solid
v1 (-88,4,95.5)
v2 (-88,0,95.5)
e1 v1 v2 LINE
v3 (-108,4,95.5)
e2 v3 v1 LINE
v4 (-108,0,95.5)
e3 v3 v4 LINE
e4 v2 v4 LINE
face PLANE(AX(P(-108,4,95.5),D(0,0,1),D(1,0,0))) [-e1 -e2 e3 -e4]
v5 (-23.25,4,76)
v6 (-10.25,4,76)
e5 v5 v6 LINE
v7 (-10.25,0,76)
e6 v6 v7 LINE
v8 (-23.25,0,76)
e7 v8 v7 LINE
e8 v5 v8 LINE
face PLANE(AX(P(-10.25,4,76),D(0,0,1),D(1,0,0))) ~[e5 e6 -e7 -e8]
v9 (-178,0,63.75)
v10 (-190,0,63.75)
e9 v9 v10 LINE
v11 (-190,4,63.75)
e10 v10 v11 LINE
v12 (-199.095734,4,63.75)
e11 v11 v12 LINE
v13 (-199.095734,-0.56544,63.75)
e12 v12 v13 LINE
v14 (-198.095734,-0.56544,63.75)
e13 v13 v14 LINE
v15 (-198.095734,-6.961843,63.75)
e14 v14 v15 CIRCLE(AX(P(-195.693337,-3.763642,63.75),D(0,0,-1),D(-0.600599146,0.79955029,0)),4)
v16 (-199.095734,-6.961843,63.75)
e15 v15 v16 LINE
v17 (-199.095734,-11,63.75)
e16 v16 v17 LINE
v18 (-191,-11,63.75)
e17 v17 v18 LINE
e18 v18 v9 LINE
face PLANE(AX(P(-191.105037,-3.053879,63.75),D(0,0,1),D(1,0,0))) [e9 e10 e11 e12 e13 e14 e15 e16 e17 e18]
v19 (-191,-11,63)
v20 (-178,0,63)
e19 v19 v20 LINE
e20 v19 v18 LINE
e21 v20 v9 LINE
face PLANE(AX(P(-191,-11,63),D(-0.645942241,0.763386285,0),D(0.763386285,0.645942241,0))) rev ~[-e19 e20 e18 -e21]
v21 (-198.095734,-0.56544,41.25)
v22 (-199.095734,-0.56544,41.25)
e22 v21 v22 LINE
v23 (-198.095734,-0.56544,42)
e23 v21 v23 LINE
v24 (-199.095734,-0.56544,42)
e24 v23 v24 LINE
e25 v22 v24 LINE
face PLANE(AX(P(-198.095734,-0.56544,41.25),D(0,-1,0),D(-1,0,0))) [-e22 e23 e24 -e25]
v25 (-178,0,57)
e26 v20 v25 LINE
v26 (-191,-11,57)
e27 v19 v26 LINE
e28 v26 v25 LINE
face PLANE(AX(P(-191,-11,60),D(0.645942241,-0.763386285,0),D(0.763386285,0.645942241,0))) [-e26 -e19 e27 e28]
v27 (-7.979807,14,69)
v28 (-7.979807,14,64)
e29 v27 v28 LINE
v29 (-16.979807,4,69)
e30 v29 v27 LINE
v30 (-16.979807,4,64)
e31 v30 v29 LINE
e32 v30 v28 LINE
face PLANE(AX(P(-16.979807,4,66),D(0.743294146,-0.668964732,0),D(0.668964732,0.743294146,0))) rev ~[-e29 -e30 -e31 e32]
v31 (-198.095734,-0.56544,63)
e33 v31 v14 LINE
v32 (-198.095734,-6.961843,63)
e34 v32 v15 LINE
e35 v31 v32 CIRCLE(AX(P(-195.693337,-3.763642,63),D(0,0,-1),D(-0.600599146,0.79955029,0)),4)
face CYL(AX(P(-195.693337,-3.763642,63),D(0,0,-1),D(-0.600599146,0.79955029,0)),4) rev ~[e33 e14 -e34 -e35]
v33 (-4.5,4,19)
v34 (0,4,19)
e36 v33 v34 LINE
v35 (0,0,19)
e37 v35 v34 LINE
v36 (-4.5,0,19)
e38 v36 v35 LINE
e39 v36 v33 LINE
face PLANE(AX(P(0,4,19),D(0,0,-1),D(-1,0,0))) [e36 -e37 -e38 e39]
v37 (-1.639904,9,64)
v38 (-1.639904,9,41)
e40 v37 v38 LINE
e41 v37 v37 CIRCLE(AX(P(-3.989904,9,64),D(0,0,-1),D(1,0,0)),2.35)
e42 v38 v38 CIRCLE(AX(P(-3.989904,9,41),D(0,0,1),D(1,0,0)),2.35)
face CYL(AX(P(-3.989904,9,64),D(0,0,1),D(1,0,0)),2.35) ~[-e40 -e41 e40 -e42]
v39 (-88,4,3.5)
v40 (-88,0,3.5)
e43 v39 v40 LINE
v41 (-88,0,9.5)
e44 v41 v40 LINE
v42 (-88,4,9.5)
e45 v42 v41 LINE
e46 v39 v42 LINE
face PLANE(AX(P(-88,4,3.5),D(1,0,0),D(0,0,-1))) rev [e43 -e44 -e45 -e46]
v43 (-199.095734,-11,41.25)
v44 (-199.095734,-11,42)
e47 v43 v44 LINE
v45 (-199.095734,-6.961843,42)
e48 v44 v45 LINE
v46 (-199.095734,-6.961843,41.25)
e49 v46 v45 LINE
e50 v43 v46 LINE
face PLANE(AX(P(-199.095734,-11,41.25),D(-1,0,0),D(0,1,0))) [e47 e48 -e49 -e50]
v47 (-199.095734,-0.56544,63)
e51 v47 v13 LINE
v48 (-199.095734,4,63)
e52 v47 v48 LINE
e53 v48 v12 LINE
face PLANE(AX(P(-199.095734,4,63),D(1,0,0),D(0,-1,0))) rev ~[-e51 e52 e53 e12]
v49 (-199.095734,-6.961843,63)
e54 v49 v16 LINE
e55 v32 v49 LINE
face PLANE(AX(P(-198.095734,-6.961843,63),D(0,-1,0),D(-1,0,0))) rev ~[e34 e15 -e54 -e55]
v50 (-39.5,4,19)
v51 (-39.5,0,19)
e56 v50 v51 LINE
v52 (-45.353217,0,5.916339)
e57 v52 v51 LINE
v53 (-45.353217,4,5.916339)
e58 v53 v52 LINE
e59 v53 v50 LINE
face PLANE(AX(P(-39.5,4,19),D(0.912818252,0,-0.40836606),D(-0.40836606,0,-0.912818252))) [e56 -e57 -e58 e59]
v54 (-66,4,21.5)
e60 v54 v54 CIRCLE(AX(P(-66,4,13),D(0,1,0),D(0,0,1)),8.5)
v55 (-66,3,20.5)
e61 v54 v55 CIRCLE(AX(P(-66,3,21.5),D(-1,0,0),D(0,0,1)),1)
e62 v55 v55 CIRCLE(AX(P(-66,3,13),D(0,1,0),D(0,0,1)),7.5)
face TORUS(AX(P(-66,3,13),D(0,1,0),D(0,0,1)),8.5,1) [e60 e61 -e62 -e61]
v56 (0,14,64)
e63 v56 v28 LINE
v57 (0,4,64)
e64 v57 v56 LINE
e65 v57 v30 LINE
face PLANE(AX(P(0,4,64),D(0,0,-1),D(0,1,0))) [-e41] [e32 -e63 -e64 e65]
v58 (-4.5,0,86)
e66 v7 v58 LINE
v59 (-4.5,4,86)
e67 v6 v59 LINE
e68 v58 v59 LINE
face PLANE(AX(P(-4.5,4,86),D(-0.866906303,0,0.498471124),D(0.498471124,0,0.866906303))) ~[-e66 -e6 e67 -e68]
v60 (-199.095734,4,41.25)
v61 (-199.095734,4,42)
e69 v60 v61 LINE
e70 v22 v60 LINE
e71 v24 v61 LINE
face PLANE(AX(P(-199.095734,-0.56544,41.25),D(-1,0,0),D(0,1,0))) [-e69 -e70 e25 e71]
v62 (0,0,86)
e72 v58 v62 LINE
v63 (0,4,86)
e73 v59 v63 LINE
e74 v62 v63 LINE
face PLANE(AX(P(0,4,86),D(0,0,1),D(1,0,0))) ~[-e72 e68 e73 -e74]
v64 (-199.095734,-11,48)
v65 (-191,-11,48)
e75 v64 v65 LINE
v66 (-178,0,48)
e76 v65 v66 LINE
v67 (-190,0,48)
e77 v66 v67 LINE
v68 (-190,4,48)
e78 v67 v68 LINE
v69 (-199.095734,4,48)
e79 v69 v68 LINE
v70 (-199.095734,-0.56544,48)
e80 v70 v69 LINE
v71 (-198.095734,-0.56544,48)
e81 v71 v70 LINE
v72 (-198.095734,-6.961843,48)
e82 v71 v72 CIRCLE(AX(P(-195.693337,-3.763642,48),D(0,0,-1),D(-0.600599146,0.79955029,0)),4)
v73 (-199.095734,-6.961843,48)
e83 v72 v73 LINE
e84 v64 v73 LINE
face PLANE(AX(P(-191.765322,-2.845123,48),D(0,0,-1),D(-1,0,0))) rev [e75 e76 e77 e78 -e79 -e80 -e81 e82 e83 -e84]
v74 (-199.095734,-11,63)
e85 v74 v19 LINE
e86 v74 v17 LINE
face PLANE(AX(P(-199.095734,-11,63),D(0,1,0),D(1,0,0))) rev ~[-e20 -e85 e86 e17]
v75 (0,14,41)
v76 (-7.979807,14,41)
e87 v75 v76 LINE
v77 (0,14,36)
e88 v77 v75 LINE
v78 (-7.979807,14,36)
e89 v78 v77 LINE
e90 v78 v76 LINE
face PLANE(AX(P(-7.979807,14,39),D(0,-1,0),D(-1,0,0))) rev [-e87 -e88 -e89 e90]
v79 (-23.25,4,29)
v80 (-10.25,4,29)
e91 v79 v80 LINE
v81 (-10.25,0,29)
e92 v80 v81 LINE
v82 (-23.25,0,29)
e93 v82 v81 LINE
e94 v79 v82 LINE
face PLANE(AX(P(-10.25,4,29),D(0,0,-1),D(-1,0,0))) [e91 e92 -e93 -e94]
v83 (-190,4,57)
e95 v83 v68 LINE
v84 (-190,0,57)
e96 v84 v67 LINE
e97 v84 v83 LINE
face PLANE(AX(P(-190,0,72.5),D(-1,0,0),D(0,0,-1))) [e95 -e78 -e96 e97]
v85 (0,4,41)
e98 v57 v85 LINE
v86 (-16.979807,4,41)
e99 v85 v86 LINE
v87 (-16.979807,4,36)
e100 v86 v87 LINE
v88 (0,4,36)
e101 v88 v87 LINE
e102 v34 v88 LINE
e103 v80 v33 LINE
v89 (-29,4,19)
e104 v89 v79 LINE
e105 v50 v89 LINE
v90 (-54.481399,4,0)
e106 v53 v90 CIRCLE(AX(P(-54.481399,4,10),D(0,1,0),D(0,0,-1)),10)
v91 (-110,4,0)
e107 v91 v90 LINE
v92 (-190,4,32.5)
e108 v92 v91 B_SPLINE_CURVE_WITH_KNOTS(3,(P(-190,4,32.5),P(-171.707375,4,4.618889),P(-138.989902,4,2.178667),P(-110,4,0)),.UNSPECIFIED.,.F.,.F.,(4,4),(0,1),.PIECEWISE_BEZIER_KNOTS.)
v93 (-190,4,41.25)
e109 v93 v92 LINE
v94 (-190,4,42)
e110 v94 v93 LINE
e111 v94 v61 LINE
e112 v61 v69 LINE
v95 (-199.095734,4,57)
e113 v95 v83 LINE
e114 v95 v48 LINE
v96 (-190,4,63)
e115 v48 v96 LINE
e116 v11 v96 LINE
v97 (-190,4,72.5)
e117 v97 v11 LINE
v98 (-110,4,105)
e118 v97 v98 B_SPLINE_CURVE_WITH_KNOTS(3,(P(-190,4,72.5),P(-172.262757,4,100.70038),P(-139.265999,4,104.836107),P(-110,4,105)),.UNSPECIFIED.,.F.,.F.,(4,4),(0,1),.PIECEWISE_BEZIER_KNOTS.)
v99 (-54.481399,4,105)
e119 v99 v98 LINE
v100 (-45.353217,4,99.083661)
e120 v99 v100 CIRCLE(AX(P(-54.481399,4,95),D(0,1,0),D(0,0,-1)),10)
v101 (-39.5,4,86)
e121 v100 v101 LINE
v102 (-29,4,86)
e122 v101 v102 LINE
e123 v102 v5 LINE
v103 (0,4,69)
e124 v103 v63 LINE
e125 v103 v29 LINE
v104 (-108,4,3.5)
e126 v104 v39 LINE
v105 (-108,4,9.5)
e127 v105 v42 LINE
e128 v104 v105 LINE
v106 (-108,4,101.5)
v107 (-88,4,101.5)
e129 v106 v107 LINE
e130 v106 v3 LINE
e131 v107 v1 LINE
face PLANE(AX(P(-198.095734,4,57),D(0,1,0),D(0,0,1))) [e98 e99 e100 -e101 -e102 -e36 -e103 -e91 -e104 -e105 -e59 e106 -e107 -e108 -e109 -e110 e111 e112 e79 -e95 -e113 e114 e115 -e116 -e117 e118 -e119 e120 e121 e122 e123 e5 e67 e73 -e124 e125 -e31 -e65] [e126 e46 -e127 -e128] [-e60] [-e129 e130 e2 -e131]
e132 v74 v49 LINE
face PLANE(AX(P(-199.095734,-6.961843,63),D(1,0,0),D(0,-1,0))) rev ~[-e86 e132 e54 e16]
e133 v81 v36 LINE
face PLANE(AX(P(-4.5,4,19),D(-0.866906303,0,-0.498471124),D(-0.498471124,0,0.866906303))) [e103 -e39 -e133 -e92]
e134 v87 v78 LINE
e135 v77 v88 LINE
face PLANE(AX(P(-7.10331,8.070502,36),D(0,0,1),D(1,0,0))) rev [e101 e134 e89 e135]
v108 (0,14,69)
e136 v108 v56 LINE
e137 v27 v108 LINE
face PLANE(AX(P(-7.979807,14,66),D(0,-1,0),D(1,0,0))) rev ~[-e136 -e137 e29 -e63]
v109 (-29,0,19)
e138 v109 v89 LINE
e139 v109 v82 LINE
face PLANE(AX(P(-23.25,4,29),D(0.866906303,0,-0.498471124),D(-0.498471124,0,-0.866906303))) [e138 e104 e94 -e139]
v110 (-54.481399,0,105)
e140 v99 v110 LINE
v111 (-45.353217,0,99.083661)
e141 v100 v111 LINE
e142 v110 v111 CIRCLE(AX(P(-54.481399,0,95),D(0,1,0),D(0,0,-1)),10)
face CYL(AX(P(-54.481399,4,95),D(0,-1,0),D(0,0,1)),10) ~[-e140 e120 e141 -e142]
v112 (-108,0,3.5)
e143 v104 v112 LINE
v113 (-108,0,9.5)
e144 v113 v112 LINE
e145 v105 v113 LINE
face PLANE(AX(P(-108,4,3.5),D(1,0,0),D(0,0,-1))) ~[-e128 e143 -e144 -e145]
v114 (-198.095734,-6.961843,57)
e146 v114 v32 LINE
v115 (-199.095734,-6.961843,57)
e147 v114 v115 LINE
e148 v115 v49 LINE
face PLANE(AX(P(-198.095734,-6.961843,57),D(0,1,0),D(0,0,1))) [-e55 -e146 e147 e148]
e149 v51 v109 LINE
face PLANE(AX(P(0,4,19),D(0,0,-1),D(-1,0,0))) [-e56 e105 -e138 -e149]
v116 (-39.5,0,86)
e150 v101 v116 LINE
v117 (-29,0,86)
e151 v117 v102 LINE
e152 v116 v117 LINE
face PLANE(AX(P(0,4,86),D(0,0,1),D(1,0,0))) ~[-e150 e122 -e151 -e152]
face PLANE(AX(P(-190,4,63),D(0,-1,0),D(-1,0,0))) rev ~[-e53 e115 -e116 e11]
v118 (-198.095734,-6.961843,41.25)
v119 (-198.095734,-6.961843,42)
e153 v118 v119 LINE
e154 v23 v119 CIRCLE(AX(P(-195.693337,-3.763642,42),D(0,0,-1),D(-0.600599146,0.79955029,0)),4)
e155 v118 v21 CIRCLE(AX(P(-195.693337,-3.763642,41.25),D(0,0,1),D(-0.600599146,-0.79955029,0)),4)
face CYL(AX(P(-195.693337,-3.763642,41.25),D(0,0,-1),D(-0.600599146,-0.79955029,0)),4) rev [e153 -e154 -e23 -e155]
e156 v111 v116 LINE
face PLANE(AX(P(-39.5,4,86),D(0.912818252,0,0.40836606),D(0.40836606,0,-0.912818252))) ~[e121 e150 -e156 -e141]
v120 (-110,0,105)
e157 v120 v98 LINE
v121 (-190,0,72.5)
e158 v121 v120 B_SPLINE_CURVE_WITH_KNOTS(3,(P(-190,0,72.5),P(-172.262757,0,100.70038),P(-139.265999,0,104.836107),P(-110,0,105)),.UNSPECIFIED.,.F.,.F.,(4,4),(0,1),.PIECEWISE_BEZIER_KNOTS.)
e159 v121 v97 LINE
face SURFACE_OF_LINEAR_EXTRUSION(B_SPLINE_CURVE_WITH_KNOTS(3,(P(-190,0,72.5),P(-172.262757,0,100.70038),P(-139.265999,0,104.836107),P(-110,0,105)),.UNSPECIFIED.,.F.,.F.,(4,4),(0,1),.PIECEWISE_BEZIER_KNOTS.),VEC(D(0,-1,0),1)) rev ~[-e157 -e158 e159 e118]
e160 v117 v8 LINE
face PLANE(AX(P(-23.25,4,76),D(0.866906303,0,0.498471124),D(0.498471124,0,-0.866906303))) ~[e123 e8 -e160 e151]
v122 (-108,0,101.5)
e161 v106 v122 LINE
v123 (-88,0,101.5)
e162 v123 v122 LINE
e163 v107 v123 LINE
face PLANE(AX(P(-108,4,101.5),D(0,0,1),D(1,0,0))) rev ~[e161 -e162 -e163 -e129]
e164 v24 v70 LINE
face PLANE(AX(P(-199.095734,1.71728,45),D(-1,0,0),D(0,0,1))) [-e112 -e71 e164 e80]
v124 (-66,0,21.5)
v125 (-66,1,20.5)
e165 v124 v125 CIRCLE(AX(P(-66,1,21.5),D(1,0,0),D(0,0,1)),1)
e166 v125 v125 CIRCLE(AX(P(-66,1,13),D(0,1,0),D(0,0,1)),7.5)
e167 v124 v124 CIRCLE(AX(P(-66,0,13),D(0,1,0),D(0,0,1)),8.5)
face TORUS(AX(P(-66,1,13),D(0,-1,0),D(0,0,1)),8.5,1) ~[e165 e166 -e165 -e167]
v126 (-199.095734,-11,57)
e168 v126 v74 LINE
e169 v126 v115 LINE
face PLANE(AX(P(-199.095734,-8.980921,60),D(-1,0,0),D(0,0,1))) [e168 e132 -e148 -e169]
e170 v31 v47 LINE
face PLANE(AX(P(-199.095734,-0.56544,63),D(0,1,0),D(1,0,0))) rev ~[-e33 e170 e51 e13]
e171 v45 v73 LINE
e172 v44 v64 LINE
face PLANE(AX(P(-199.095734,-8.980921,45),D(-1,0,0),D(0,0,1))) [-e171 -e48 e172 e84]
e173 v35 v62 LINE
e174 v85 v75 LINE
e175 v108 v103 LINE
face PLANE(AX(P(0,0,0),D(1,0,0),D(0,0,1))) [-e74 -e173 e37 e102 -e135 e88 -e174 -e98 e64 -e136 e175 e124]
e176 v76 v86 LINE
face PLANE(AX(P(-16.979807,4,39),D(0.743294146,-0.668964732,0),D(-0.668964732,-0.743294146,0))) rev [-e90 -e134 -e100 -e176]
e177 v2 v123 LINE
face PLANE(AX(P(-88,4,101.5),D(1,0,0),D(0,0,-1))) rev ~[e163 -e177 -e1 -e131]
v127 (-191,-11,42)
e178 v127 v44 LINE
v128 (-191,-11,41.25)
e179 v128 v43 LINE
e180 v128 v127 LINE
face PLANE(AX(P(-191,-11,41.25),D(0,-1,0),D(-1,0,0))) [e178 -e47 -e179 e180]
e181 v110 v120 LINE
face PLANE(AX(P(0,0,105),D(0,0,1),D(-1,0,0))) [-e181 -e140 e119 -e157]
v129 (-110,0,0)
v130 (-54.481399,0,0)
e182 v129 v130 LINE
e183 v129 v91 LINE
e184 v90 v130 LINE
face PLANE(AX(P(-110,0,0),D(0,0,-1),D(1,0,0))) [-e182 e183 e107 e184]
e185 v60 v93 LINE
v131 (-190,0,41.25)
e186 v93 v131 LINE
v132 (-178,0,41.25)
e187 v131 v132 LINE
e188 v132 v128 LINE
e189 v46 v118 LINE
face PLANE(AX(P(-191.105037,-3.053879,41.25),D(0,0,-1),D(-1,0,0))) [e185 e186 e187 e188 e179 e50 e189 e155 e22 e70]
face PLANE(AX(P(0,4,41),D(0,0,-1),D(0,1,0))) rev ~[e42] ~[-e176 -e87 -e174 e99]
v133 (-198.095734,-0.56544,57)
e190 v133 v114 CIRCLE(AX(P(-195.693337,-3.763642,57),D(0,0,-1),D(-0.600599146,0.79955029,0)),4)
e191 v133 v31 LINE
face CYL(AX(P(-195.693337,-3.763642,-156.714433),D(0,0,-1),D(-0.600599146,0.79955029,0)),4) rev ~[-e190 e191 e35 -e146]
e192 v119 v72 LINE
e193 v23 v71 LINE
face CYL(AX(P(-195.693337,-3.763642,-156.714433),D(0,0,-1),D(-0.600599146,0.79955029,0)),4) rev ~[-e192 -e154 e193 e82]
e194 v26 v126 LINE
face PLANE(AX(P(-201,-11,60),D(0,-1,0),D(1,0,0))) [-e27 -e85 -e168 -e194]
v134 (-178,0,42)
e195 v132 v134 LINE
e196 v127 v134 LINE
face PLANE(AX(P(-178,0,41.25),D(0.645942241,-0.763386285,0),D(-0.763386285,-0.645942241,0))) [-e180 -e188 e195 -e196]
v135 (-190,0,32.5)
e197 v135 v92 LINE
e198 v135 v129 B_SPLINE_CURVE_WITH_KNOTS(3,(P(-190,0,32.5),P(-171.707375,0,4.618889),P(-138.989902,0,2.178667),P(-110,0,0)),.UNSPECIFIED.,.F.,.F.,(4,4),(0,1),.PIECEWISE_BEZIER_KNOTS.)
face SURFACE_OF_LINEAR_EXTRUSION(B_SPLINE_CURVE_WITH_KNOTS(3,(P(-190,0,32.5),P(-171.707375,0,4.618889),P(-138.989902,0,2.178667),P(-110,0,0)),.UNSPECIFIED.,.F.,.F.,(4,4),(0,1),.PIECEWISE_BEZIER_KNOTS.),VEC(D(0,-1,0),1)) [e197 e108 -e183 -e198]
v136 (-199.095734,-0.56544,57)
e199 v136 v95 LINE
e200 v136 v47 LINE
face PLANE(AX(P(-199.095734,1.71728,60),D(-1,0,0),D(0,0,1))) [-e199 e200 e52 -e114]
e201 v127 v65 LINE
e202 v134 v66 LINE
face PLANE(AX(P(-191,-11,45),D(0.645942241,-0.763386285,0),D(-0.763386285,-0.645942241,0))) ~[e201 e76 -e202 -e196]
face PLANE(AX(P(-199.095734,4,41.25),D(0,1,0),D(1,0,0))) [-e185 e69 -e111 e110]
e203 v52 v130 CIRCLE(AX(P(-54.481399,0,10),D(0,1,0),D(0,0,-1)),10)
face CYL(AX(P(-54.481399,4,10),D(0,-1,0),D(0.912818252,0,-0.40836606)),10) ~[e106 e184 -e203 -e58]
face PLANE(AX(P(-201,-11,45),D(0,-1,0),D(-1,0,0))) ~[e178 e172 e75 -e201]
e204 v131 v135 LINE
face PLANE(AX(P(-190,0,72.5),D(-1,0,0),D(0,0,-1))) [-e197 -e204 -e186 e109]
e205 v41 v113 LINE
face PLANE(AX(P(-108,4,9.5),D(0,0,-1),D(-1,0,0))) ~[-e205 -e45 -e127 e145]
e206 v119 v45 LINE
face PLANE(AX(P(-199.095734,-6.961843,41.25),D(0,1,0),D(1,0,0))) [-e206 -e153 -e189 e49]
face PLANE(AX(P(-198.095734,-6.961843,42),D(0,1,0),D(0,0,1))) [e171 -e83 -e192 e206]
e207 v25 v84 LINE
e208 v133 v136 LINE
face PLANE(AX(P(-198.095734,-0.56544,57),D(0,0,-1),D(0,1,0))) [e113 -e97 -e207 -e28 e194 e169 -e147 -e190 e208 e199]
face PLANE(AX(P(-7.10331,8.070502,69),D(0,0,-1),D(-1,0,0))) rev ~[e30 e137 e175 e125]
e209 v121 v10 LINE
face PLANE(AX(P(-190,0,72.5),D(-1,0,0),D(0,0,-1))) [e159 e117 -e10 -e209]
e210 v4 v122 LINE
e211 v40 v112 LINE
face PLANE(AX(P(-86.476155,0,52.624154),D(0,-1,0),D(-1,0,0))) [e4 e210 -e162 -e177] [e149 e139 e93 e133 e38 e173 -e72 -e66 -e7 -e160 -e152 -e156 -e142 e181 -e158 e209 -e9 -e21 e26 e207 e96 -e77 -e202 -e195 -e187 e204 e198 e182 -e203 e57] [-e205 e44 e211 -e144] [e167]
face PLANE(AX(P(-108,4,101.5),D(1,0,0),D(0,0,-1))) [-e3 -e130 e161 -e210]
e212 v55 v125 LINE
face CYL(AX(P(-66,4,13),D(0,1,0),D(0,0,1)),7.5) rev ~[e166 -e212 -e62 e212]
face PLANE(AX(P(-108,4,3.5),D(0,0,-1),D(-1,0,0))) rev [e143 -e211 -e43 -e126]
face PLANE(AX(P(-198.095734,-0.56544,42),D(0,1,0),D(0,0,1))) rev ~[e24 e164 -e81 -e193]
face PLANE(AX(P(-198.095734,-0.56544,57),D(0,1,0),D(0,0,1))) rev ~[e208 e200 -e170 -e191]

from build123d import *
from build123d.topology import SkipClean

# Parameters (mm, degrees)
BOSS_EXTRUDE1_DEPTH     = 4
BOSS_EXTRUDE2_START     = -45
BOSS_EXTRUDE2_DEPTH     = 3
BOSS_EXTRUDE3_START     = -39
BOSS_EXTRUDE3_DEPTH     = 3
BOSS_EXTRUDE4_REACH     = 213.107
SKETCH6_R               = 2.5
SKETCH7_W               = 20
SKETCH7_H               = 6
CUT_EXTRUDE1_DEPTH      = 10
CUT_EXTRUDE2_DEPTH      = 228.268563733
FILLET1_R               = 10
CUT_EXTRUDE3_DEPTH      = 228.268563733
SKETCH12_W              = 23
SKETCH12_H              = 10
CUT_EXTRUDE6_DEPTH      = 21
BOSS_EXTRUDE5_REACH     = 213.407
SKETCH13_R              = 2.35
CUT_EXTRUDE7_DEPTH      = 209.214432859
CUT_EXTRUDE7_DEPTH_BACK = 209.214432859
SKETCH15_W              = 6
SKETCH15_H              = 4.56544039
SKETCH15_H_2            = 4.038157292
BOSS_EXTRUDE6_DEPTH     = 1
SKETCH8_R               = 7.5
CUT_EXTRUDE8_DEPTH      = 10
FILLET2_R               = 1
BOSS_EXTRUDE7_START     = 0.75
BOSS_EXTRUDE7_DEPTH     = 0.75
BOSS_EXTRUDE8_DEPTH     = 0.75


with BuildPart() as part:
    # Sketch1 → Boss-Extrude1 (new body)
    with BuildSketch(Plane(origin=(0, 0, 0), x_dir=(1, 0, 0), z_dir=(0, 1, 0))):
        with BuildLine():
            Line((-110, 0), (0, 0))
            Line((0, 0), (0, -105))
            Line((0, -105), (-110, -105))
            add(Edge.make_bspline(
                [(-190, -72.5), (-172.262756658, -100.700379519), (-139.265999107, -104.836107107), (-110, -105)],
                knots=[0, 0, 0, 0, 1, 1, 1, 1], degree=3))
            Line((-190, -72.5), (-190, -32.5))
            add(Edge.make_bspline(
                [(-190, -32.5), (-171.707374586, -4.618888995), (-138.989901699, -2.178666842), (-110, 0)],
                knots=[0, 0, 0, 0, 1, 1, 1, 1], degree=3))
        make_face()
    extrude(amount=BOSS_EXTRUDE1_DEPTH)

    # Sketch2 → Boss-Extrude2 (add, symmetric)
    with BuildSketch(Plane.XY.offset(105).offset(BOSS_EXTRUDE2_START)):
        Polygon((-190, 4), (-201, 4), (-201, -11), (-191, -11), (-178, 0), align=None)
    boss_extrude2 = extrude(amount=BOSS_EXTRUDE2_DEPTH, both=True)

    # Mirror1: Boss-Extrude2 across plane
    add(boss_extrude2.mirror(Plane.XY.offset(52.5)))

    # Sketch5 → Boss-Extrude3 (add, symmetric)
    with BuildSketch(Plane.XY.offset(105).offset(BOSS_EXTRUDE3_START)):
        Polygon((-16.979807258, 4), (-7.979807258, 14), (0, 14), (0, 4), align=None)
    boss_extrude3 = extrude(amount=BOSS_EXTRUDE3_DEPTH, both=True)

    # Mirror4: Boss-Extrude3 across plane
    add(boss_extrude3.mirror(Plane.XY.offset(52.5)))

    # Sketch6 → Boss-Extrude4 (add, up to next)
    with BuildSketch(Plane.XY.offset(42), mode=Mode.PRIVATE) as boss_extrude4_sk1:
        with Locations(Location((-4, 10, 0), (0, 0, 180))):
            Circle(SKETCH6_R)
    boss_extrude4_tool1 = extrude(boss_extrude4_sk1.sketch, amount=BOSS_EXTRUDE4_REACH, mode=Mode.PRIVATE) - part.part
    add(boss_extrude4_tool1.solids().sort_by_distance((-4, 10, 42))[0])

    # Sketch7 → Cut-Extrude1 (cut)
    with BuildSketch(Plane(origin=(0, 4, 0), x_dir=(1, 0, 0), z_dir=(0, 1, 0))):
        with Locations((-98, -98.5)):
            Rectangle(SKETCH7_W, SKETCH7_H)
    cut_extrude1 = extrude(amount=-CUT_EXTRUDE1_DEPTH, mode=Mode.SUBTRACT)

    # Mirror5: Cut-Extrude1 across plane
    add(cut_extrude1.mirror(Plane.XY.offset(52.5)), mode=Mode.SUBTRACT)

    # Sketch10 → Cut-Extrude2 (cut, symmetric)
    with BuildSketch(Plane(origin=(0, 4, 0), x_dir=(1, 0, 0), z_dir=(0, 1, 0))):
        Polygon((0, -19), (-39.5, -19), (-48, 0), (0, 0), align=None)
    cut_extrude2 = extrude(amount=CUT_EXTRUDE2_DEPTH, both=True, mode=Mode.SUBTRACT)

    # Mirror6: Cut-Extrude2 across plane
    add(cut_extrude2.mirror(Plane.XY.offset(52.5)), mode=Mode.SUBTRACT)

    # Fillet1
    fillet1_edges = [part.edges().sort_by_distance(p)[0] for p in [
        (-48, 2, 0),
        (-48, 2, 105),
    ]]
    fillet(fillet1_edges, radius=FILLET1_R)

    # Sketch11 → Cut-Extrude3 (cut, symmetric)
    with BuildSketch(Plane(origin=(0, 4, 0), x_dir=(1, 0, 0), z_dir=(0, 1, 0))):
        Polygon((-4.5, -19), (-10.25, -29), (-23.25, -29), (-29, -19), align=None)
    cut_extrude3 = extrude(amount=CUT_EXTRUDE3_DEPTH, both=True, mode=Mode.SUBTRACT)

    # Mirror7: Cut-Extrude3 across plane
    add(cut_extrude3.mirror(Plane.XY.offset(52.5)), mode=Mode.SUBTRACT)

    # Sketch12 → Cut-Extrude6 (cut)
    with BuildSketch(Plane(origin=(0, 0, 0), x_dir=(0, 0, -1), z_dir=(1, 0, 0))):
        with Locations((-52.5, 9)):
            Rectangle(SKETCH12_W, SKETCH12_H)
    extrude(amount=-CUT_EXTRUDE6_DEPTH, mode=Mode.SUBTRACT)

    # Sketch13 → Boss-Extrude5 (add, up to next)
    with BuildSketch(Plane(origin=(0, 0, 64), x_dir=(-1, 0, 0), z_dir=(0, 0, -1)), mode=Mode.PRIVATE) as boss_extrude5_sk1:
        with Locations(Location((3.989903629, 9, 0), (0, 0, 180))):
            Circle(SKETCH13_R)
    boss_extrude5_tool1 = extrude(boss_extrude5_sk1.sketch, amount=BOSS_EXTRUDE5_REACH, mode=Mode.PRIVATE) - part.part
    add(boss_extrude5_tool1.solids().sort_by_distance((-3.989904, 9, 64))[0])

    # Sketch14 → Cut-Extrude7 (cut, two sides: drawn at the far end of the back side and taken through both)
    with BuildSketch(Plane.XY.offset(52.5).offset(-CUT_EXTRUDE7_DEPTH_BACK)):
        with BuildLine():
            Line((-198.09573372, 4), (-198.09573372, -0.56544039))
            ThreePointArc((-198.09573372, -0.56544039), (-191.693337136, -3.763641549), (-198.09573372, -6.961842708))
            Line((-198.09573372, -6.961842708), (-198.09573372, -11))
            Line((-198.09573372, -11), (-202.719197906, -12.115187625))
            Line((-202.719197906, -12.115187625), (-202.588499271, 4.842960165))
            Line((-202.588499271, 4.842960165), (-198.09573372, 4))
        make_face()
    extrude(amount=CUT_EXTRUDE7_DEPTH + CUT_EXTRUDE7_DEPTH_BACK, mode=Mode.SUBTRACT)

    # Sketch15 → Boss-Extrude6 (add)
    with BuildSketch(Plane.ZY.offset(198.09573372)):
        with Locations((60, 1.717279805)):
            Rectangle(SKETCH15_W, SKETCH15_H)
        with Locations((45, 1.717279805)):
            Rectangle(SKETCH15_W, SKETCH15_H)
        with Locations((45, -8.980921354)):
            Rectangle(SKETCH15_W, SKETCH15_H_2)
        with Locations((60, -8.980921354)):
            Rectangle(SKETCH15_W, SKETCH15_H_2)
    extrude(amount=BOSS_EXTRUDE6_DEPTH)

    # Sketch8 → Cut-Extrude8 (cut)
    with BuildSketch(Plane(origin=(0, 4, 0), x_dir=(1, 0, 0), z_dir=(0, 1, 0))):
        with Locations(Location((-66, -13, 0), (0, 0, 270))):
            Circle(SKETCH8_R)
    extrude(amount=-CUT_EXTRUDE8_DEPTH, mode=Mode.SUBTRACT)

    # Fillet2
    fillet2_edges = [part.edges().sort_by_distance(p)[0] for p in [
        (-66, 0, 5.5),
        (-66, 4, 5.5),
    ]]
    fillet(fillet2_edges, radius=FILLET2_R)

    # Sketch16 → Boss-Extrude7 (add)
    with SkipClean():  # the faces are left unmerged after this step: merging them gives an invalid solid
        with BuildSketch(Plane(origin=(0, 0, 42), x_dir=(-1, 0, 0), z_dir=(0, 0, -1)).offset(BOSS_EXTRUDE7_START)):
            with BuildLine():
                Line((198.09573372, -0.56544039), (199.09573372, -0.56544039))
                Line((199.09573372, -0.56544039), (199.09573372, 4))
                Line((199.09573372, 4), (190, 4))
                Line((190, 4), (190, 0))
                Line((190, 0), (178, 0))
                Line((178, 0), (191, -11))
                Line((191, -11), (199.09573372, -11))
                Line((199.09573372, -11), (199.09573372, -6.961842708))
                Line((199.09573372, -6.961842708), (198.09573372, -6.961842708))
                ThreePointArc((198.09573372, -6.961842708), (191.693337136, -3.763641549), (198.09573372, -0.56544039))
            make_face()
        extrude(amount=-BOSS_EXTRUDE7_DEPTH)

    # Sketch17 → Boss-Extrude8 (add)
    with SkipClean():  # the faces are left unmerged after this step: merging them gives an invalid solid
        with BuildSketch(Plane.XY.offset(63)):
            with BuildLine():
                Line((-190, 4), (-199.09573372, 4))
                Line((-199.09573372, 4), (-199.09573372, -0.56544039))
                Line((-199.09573372, -0.56544039), (-198.09573372, -0.56544039))
                ThreePointArc((-198.09573372, -0.56544039), (-191.693337136, -3.763641549), (-198.09573372, -6.961842708))
                Line((-198.09573372, -6.961842708), (-199.09573372, -6.961842708))
                Line((-199.09573372, -6.961842708), (-199.09573372, -11))
                Line((-199.09573372, -11), (-191, -11))
                Line((-191, -11), (-178, 0))
                Line((-178, 0), (-190, 0))
                Line((-190, 0), (-190, 4))
            make_face()
        extrude(amount=BOSS_EXTRUDE8_DEPTH)


solid = part.part
